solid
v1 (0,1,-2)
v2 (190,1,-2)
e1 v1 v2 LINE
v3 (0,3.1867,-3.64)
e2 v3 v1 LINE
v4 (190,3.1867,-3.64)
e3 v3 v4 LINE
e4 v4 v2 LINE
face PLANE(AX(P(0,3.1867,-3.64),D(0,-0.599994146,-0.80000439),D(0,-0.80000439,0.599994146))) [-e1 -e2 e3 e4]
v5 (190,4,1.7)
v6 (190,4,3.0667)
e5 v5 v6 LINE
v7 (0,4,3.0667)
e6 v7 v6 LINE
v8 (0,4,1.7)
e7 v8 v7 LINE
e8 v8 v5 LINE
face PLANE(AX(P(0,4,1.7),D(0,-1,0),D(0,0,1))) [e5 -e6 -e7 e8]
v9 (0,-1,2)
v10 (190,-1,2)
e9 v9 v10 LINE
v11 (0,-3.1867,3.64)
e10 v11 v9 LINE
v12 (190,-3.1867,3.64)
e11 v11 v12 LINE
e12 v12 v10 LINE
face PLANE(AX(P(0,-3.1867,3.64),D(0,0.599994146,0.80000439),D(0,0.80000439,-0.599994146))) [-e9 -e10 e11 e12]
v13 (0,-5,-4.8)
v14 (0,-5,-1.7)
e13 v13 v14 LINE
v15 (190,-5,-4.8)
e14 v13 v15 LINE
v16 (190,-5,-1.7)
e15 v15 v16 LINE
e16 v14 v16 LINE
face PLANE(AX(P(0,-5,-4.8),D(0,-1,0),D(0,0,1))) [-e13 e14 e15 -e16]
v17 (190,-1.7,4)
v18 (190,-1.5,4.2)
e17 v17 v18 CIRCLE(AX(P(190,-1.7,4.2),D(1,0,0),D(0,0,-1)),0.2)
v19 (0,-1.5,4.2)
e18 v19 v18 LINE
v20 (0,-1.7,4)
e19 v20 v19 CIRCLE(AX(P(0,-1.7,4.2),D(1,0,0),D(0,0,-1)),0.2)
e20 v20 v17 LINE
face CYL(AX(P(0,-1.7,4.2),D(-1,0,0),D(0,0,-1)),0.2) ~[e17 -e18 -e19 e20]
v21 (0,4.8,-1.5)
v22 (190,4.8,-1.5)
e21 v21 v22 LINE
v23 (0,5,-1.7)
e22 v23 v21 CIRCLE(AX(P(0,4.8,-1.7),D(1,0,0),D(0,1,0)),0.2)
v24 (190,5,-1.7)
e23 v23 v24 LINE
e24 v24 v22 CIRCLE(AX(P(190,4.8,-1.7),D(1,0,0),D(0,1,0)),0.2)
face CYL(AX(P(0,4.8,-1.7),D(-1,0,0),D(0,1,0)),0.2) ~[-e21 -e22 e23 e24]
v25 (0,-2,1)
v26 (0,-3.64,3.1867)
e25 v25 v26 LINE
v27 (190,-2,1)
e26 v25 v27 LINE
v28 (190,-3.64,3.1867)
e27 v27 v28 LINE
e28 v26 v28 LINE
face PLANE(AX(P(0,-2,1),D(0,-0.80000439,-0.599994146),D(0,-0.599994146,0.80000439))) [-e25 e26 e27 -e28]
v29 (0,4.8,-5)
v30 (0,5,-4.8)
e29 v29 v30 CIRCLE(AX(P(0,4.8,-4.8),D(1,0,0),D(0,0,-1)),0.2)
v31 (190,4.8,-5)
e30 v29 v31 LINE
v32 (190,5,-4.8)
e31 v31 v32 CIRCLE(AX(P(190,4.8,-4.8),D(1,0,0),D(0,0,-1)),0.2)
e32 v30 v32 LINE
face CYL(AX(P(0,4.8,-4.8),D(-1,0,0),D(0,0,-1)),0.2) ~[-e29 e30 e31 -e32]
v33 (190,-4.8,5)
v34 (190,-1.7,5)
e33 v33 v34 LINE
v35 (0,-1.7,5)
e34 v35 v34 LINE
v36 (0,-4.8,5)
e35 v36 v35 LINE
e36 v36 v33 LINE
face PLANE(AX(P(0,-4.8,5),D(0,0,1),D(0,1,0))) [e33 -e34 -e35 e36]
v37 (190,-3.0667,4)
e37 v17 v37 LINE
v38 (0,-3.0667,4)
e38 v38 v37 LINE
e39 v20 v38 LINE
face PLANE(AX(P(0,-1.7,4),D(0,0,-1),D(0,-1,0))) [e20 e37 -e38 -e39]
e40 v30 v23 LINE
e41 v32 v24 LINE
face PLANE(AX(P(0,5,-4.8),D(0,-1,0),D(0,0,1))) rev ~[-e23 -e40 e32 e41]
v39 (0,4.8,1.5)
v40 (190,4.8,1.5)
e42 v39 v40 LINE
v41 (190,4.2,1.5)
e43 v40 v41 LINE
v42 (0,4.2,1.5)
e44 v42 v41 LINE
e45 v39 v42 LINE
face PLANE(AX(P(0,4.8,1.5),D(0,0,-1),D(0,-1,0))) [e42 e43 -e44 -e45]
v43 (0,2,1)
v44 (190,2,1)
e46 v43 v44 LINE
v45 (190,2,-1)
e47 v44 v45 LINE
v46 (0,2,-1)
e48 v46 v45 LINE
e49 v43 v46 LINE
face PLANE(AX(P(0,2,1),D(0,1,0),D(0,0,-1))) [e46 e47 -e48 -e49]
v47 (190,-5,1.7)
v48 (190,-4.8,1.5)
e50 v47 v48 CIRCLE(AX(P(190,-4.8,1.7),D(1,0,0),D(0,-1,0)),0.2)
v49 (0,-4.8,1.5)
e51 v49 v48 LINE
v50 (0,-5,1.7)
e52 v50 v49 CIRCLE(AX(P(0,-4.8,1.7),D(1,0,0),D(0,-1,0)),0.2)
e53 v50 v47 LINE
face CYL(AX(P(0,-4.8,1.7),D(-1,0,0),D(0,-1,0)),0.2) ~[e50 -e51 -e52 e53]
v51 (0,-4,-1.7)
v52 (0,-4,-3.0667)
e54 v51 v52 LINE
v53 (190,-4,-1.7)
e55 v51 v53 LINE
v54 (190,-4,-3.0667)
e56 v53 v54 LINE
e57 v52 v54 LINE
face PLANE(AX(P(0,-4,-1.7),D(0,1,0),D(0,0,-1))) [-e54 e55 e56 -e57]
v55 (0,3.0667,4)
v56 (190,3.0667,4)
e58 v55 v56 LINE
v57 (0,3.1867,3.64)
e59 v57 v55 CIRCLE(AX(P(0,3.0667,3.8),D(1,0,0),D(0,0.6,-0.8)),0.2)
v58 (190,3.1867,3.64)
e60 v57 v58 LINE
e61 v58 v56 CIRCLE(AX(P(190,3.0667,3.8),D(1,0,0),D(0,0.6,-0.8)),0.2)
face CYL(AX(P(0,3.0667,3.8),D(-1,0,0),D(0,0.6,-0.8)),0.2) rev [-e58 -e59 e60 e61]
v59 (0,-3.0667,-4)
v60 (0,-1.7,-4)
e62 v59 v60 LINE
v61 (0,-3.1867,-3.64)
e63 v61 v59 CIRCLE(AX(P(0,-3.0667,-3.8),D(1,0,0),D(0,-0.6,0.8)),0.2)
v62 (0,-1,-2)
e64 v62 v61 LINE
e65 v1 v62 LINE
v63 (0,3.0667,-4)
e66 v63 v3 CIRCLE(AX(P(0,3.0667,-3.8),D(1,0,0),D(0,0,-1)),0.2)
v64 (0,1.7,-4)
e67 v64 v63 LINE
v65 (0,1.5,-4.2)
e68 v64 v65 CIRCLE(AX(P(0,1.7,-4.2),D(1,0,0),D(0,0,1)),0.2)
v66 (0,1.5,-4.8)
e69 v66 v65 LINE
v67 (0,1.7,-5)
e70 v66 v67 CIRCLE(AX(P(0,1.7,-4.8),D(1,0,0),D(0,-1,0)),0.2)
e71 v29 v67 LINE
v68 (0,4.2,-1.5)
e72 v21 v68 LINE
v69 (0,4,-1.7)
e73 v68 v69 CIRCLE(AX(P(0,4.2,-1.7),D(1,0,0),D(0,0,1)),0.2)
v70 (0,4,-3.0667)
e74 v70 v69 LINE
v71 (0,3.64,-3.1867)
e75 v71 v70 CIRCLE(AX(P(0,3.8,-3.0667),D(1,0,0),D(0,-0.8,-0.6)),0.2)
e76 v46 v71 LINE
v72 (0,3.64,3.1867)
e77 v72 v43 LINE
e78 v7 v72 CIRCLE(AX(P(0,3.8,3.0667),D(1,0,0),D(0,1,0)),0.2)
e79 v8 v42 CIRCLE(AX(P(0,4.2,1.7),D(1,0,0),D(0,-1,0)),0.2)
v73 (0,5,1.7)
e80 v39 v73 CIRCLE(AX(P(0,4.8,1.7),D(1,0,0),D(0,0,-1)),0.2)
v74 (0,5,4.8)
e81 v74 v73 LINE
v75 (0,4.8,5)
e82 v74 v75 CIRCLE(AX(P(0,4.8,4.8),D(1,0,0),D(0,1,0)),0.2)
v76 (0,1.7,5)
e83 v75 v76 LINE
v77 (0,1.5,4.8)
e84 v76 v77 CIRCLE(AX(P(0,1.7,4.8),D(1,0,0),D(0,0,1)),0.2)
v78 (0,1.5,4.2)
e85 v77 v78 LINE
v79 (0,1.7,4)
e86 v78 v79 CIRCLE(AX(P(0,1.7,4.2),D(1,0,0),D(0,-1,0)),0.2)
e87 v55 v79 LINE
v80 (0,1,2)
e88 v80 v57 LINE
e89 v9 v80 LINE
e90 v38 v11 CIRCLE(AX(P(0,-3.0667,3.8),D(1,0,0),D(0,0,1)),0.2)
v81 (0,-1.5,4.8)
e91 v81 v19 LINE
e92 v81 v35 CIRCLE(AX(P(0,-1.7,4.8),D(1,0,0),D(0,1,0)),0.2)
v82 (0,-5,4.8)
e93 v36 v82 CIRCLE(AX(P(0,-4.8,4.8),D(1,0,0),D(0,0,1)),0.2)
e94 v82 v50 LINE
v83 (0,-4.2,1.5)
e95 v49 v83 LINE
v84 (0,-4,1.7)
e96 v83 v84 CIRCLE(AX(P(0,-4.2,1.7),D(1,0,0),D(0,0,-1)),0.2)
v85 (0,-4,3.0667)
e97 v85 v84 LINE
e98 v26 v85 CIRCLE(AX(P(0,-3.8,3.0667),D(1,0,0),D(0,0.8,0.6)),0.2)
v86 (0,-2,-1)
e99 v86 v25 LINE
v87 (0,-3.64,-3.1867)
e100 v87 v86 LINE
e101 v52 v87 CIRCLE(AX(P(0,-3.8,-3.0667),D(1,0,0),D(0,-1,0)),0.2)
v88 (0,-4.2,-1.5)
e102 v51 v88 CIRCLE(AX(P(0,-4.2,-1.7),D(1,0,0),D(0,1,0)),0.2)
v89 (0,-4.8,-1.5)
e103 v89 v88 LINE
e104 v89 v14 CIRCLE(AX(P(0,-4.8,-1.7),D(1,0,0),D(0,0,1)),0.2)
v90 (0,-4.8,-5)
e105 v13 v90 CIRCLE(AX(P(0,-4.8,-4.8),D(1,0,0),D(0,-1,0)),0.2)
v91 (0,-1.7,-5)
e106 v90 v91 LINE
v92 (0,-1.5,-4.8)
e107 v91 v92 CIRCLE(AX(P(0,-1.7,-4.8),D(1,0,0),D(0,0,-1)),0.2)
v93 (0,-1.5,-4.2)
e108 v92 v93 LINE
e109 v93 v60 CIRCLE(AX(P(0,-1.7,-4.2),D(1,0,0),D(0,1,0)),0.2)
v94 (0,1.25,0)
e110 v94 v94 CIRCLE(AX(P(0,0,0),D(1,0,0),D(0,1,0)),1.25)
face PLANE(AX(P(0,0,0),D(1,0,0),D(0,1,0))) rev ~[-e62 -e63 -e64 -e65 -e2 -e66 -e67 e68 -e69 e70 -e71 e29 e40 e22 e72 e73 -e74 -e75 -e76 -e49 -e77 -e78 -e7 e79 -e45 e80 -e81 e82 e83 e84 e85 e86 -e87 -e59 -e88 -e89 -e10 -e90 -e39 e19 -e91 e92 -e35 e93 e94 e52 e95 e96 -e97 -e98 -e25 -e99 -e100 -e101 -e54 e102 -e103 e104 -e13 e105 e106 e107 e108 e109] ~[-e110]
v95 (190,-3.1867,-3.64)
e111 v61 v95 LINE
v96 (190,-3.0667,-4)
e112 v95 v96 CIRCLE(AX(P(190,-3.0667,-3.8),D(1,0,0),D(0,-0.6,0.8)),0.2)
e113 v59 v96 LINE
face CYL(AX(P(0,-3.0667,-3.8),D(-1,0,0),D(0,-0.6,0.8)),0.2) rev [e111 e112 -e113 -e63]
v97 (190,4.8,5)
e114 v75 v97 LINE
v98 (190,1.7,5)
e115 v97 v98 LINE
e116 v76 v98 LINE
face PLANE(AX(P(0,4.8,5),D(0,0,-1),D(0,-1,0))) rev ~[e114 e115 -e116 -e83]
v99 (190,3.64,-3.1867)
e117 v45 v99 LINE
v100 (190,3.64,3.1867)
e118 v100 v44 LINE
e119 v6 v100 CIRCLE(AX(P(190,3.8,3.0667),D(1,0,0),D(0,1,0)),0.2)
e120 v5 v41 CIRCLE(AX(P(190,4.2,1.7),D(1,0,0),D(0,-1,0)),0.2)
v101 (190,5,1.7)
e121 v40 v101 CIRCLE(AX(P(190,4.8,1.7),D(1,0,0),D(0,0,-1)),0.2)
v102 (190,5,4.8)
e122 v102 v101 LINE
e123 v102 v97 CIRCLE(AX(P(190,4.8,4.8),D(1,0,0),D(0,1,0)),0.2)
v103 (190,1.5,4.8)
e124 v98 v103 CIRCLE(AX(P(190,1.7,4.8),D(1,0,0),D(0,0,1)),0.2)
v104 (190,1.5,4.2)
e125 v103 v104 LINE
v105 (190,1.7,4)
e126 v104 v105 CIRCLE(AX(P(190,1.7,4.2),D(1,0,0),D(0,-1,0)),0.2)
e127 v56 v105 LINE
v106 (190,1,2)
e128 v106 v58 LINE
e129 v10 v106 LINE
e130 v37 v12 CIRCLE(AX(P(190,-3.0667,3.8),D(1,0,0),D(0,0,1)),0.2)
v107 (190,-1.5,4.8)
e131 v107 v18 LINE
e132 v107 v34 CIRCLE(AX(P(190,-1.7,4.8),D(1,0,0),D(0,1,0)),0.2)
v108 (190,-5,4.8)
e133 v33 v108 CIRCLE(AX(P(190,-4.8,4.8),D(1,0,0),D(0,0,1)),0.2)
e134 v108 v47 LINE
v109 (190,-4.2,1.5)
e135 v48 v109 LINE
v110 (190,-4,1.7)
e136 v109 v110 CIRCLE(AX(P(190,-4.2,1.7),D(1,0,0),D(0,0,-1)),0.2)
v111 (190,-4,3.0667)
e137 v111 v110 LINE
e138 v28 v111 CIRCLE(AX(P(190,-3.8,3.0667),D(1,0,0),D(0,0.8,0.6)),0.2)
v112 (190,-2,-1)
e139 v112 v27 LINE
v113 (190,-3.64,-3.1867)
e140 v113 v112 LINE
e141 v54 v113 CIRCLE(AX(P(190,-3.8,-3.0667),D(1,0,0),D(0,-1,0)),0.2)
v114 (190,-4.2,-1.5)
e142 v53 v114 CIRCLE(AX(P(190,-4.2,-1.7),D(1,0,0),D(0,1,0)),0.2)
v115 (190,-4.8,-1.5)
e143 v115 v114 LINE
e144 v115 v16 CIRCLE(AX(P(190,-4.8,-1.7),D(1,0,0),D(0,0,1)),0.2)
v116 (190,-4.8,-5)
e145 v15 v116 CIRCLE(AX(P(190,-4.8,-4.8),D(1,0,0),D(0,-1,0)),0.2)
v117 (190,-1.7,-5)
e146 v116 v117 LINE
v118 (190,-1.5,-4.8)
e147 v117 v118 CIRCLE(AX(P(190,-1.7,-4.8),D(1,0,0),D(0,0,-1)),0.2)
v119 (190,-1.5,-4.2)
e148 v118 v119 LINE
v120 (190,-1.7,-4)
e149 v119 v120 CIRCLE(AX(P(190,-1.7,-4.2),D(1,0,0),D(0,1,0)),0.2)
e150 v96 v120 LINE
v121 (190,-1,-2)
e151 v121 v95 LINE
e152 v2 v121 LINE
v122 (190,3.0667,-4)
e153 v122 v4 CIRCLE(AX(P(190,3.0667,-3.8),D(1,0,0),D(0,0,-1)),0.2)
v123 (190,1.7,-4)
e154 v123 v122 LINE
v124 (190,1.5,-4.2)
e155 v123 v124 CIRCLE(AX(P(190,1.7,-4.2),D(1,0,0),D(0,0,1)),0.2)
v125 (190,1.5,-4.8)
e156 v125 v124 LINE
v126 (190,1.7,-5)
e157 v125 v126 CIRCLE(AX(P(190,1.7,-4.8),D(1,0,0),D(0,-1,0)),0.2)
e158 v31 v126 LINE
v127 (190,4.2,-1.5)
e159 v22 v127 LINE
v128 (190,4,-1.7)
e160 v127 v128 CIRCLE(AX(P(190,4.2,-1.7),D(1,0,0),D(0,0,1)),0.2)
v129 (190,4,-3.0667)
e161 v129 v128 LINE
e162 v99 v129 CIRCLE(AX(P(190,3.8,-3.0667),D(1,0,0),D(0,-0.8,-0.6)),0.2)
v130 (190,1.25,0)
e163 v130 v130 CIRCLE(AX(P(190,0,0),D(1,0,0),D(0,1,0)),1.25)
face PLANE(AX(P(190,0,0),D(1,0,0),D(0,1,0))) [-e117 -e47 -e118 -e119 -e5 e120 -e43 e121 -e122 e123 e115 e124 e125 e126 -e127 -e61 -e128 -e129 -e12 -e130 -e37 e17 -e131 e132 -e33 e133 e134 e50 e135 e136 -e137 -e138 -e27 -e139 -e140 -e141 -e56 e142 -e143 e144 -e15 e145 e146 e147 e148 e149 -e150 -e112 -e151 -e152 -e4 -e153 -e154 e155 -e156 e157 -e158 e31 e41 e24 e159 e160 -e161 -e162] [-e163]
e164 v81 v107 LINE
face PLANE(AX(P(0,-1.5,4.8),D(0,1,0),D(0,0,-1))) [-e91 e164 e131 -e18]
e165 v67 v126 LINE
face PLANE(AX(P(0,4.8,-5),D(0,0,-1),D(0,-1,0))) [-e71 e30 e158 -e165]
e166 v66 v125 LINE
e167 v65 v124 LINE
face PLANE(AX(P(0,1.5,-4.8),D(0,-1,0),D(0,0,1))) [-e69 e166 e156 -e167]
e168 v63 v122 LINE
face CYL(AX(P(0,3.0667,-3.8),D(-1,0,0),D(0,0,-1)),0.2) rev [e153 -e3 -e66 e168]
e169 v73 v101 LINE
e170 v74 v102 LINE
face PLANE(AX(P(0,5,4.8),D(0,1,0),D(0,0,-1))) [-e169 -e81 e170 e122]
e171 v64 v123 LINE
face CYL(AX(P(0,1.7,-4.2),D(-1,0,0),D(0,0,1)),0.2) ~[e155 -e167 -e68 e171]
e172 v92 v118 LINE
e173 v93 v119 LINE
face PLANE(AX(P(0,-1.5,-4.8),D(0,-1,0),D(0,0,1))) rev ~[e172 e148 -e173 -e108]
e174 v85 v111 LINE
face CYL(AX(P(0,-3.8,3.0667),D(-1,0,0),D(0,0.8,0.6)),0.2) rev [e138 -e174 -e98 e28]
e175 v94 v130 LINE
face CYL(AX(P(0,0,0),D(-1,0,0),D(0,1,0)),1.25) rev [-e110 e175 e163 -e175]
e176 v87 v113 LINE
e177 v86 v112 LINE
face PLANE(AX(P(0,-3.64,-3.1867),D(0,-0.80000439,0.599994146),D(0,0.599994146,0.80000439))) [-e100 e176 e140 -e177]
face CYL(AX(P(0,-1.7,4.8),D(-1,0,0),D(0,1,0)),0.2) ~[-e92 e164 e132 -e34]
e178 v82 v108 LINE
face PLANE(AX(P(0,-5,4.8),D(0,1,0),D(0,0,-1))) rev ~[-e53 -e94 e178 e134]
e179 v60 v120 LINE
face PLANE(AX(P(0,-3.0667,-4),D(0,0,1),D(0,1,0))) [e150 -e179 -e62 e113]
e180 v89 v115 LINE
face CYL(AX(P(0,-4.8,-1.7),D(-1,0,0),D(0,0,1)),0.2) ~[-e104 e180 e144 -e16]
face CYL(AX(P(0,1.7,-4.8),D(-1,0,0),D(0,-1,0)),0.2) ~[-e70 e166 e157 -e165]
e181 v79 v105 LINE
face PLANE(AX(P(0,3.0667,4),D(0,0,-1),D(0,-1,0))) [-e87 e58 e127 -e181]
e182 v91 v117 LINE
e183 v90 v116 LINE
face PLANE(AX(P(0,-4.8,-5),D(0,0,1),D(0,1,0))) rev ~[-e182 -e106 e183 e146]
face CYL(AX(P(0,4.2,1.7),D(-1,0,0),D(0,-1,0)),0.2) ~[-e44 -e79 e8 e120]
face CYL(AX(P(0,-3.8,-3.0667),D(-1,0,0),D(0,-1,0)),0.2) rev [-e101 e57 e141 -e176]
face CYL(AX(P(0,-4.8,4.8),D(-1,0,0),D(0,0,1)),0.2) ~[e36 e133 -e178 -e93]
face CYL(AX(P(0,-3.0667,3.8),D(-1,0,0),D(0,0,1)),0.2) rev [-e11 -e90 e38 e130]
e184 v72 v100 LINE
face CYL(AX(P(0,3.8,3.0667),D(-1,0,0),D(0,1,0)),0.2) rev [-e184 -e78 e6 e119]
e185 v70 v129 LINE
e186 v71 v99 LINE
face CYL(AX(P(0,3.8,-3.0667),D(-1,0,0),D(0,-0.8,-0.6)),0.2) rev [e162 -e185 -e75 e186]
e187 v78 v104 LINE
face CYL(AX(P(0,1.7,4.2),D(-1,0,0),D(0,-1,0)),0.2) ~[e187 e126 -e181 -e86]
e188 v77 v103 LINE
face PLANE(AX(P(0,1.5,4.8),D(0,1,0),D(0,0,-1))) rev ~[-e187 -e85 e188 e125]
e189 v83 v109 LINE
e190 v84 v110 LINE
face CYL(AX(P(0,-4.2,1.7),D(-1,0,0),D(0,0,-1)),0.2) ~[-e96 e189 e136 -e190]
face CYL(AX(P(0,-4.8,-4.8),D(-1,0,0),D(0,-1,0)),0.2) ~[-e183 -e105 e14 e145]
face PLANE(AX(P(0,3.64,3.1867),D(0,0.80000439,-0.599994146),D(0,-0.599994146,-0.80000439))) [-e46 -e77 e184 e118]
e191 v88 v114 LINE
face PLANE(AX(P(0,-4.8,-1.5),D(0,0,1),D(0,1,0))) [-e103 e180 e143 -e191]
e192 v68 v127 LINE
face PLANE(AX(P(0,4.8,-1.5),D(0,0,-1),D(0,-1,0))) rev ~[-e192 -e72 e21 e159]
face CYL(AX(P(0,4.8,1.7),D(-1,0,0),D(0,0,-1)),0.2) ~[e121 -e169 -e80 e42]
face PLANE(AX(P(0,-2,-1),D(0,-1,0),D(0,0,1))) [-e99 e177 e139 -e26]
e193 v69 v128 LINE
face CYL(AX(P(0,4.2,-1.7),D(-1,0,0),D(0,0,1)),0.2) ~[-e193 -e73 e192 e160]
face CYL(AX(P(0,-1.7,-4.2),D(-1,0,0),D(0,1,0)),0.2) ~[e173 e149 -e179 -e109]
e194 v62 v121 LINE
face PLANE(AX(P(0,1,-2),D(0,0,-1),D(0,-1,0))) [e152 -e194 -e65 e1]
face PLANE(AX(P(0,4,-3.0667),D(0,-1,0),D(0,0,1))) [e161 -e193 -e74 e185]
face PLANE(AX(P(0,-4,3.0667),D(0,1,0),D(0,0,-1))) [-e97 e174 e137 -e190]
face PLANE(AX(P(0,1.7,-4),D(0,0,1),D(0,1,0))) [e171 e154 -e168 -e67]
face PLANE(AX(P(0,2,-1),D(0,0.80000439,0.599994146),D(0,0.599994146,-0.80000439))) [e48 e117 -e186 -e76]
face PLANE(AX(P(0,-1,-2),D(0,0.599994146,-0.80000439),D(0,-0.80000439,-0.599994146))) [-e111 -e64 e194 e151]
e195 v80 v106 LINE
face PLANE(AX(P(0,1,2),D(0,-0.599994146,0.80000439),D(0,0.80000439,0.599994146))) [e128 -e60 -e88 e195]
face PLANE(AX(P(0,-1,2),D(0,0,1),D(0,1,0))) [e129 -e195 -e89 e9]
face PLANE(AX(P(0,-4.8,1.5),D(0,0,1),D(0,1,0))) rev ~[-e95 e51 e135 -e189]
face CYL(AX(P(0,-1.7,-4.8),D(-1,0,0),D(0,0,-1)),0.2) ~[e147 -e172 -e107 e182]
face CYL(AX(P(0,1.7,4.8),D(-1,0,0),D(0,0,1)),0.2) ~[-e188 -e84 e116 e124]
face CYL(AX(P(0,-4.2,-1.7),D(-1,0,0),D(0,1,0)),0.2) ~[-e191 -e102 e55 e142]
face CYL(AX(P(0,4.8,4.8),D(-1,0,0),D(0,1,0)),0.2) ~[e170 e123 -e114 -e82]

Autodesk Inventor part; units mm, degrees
ref_plane "YZ Plane" through (0, 0, 0) normal (1, 0, 0) x (0, 1, 0)
ref_plane "XZ Plane" through (0, 0, 0) normal (0, 1, 0) x (-1, 0, 0)
ref_plane "XY Plane" through (0, 0, 0) normal (0, 0, 1) x (1, 0, 0)
sketch "Esquisse1" plane through (0, 0, 0) normal (1, 0, 0) x (0, 1, 0)
  line L0 (-5, -5) -> (5, 5) construction
  line L1 (5, -5) -> (-5, 5) construction
  circle A0 centre (0, 0) radius 1.25
  line L2 (2, 1) -> (2, -1)
  line L3 (-1, 2) -> (1, 2)
  line L4 (-2, -1) -> (-2, 1)
  line L5 (1, -2) -> (-1, -2)
  line L6 (4.8, -5) -> (1.7, -5)
  line L7 (5, -4.8) -> (5, -1.7)
  line L8 (1.5, -4.8) -> (1.5, -4.2)
  line L9 (12.6837, 0) -> (-8.9006, 0) construction
  line L10 (1.5, -4) -> (4, -4) construction
  line L11 (4, -4) -> (4, -1.5) construction
  line L12 (4, -1.5) -> (5, -1.5) construction
  line L13 (5, -5) -> (2, -1) construction
  line L14 (2, -1) -> (4, -3.6667) construction
  line L15 (2, -1) -> (4, -3.6667) construction
  line L16 (4, -3.0667) -> (4, -1.7)
  line L17 (4.8, -1.5) -> (4.2, -1.5)
  line L18 (1, -2) -> (5, -5) construction
  line L19 (1.7, -4) -> (3.0667, -4)
  line L20 (3.1867, -3.64) -> (1, -2)
  line L21 (2, -1) -> (3.64, -3.1867)
  arc A1 (5, -1.7) -> (4.8, -1.5) centre (4.8, -1.7) ccw
  arc A2 (4.2, -1.5) -> (4, -1.7) centre (4.2, -1.7) ccw
  arc A3 (4.8, -5) -> (5, -4.8) centre (4.8, -4.8) ccw
  arc A4 (1.5, -4.8) -> (1.7, -5) centre (1.7, -4.8) ccw
  arc A5 (1.7, -4) -> (1.5, -4.2) centre (1.7, -4.2) ccw
  arc A6 (3.0667, -4) -> (3.1867, -3.64) centre (3.0667, -3.8) ccw
  arc A7 (3.64, -3.1867) -> (4, -3.0667) centre (3.8, -3.0667) ccw
  arc A8 (3.1867, 3.64) -> (3.0667, 4) centre (3.0667, 3.8) ccw
  line L22 (1.5, 4.8) -> (1.5, 4.2)
  line L23 (1.5, 4) -> (1.5, 5) construction
  arc A9 (4, 3.0667) -> (3.64, 3.1867) centre (3.8, 3.0667) ccw
  line L24 (3.0667, 4) -> (1.7, 4)
  arc A10 (1.5, 4.2) -> (1.7, 4) centre (1.7, 4.2) ccw
  line L25 (4, 1.7) -> (4, 3.0667)
  line L26 (4, 4) -> (1.5, 4) construction
  line L27 (1, 2) -> (3.1867, 3.64)
  line L28 (4.8, 1.5) -> (4.2, 1.5)
  line L29 (1, 2) -> (3.6667, 4) construction
  line L30 (1, 2) -> (3.6667, 4) construction
  line L31 (4.8, 5) -> (1.7, 5)
  line L32 (3.64, 3.1867) -> (2, 1)
  line L33 (5, 4.8) -> (5, 1.7)
  line L34 (5, 5) -> (1, 2) construction
  line L35 (2, 1) -> (5, 5) construction
  line L36 (4, 1.5) -> (4, 4) construction
  circle A11 centre (0, 0) radius 1.25
  line L37 (-1, 2) -> (1, 2)
  line L38 (-2, -1) -> (-2, 1)
  line L39 (1, -2) -> (-1, -2)
  line L40 (2, 1) -> (2, -1)
  arc A12 (1.7, 5) -> (1.5, 4.8) centre (1.7, 4.8) ccw
  arc A13 (5, 4.8) -> (4.8, 5) centre (4.8, 4.8) ccw
  arc A14 (4, 1.7) -> (4.2, 1.5) centre (4.2, 1.7) ccw
  arc A15 (4.8, 1.5) -> (5, 1.7) centre (4.8, 1.7) ccw
  arc A16 (-3.64, 3.1867) -> (-4, 3.0667) centre (-3.8, 3.0667) ccw
  line L41 (-4.8, 1.5) -> (-4.2, 1.5)
  line L42 (-4, 1.5) -> (-5, 1.5) construction
  arc A17 (-3.0667, 4) -> (-3.1867, 3.64) centre (-3.0667, 3.8) ccw
  line L43 (-4, 3.0667) -> (-4, 1.7)
  arc A18 (-4.2, 1.5) -> (-4, 1.7) centre (-4.2, 1.7) ccw
  line L44 (-1.7, 4) -> (-3.0667, 4)
  line L45 (-4, 4) -> (-4, 1.5) construction
  line L46 (-2, 1) -> (-3.64, 3.1867)
  line L47 (-1.5, 4.8) -> (-1.5, 4.2)
  line L48 (-2, 1) -> (-4, 3.6667) construction
  line L49 (-2, 1) -> (-4, 3.6667) construction
  line L50 (-5, 4.8) -> (-5, 1.7)
  line L51 (-3.1867, 3.64) -> (-1, 2)
  line L52 (-4.8, 5) -> (-1.7, 5)
  line L53 (-5, 5) -> (-2, 1) construction
  line L54 (-1, 2) -> (-5, 5) construction
  line L55 (-1.5, 4) -> (-4, 4) construction
  circle A19 centre (0, 0) radius 1.25
  line L56 (-2, -1) -> (-2, 1)
  line L57 (1, -2) -> (-1, -2)
  line L58 (2, 1) -> (2, -1)
  line L59 (-1, 2) -> (1, 2)
  arc A20 (-5, 1.7) -> (-4.8, 1.5) centre (-4.8, 1.7) ccw
  arc A21 (-4.8, 5) -> (-5, 4.8) centre (-4.8, 4.8) ccw
  arc A22 (-1.7, 4) -> (-1.5, 4.2) centre (-1.7, 4.2) ccw
  arc A23 (-1.5, 4.8) -> (-1.7, 5) centre (-1.7, 4.8) ccw
  arc A24 (-3.1867, -3.64) -> (-3.0667, -4) centre (-3.0667, -3.8) ccw
  line L60 (-1.5, -4.8) -> (-1.5, -4.2)
  line L61 (-1.5, -4) -> (-1.5, -5) construction
  arc A25 (-4, -3.0667) -> (-3.64, -3.1867) centre (-3.8, -3.0667) ccw
  line L62 (-3.0667, -4) -> (-1.7, -4)
  arc A26 (-1.5, -4.2) -> (-1.7, -4) centre (-1.7, -4.2) ccw
  line L63 (-4, -1.7) -> (-4, -3.0667)
  line L64 (-4, -4) -> (-1.5, -4) construction
  line L65 (-1, -2) -> (-3.1867, -3.64)
  line L66 (-4.8, -1.5) -> (-4.2, -1.5)
  line L67 (-1, -2) -> (-3.6667, -4) construction
  line L68 (-1, -2) -> (-3.6667, -4) construction
  line L69 (-4.8, -5) -> (-1.7, -5)
  line L70 (-3.64, -3.1867) -> (-2, -1)
  line L71 (-5, -4.8) -> (-5, -1.7)
  line L72 (-5, -5) -> (-1, -2) construction
  line L73 (-2, -1) -> (-5, -5) construction
  line L74 (-4, -1.5) -> (-4, -4) construction
  circle A27 centre (0, 0) radius 1.25
  line L75 (1, -2) -> (-1, -2)
  line L76 (2, 1) -> (2, -1)
  line L77 (-1, 2) -> (1, 2)
  line L78 (-2, -1) -> (-2, 1)
  arc A28 (-1.7, -5) -> (-1.5, -4.8) centre (-1.7, -4.8) ccw
  arc A29 (-5, -4.8) -> (-4.8, -5) centre (-4.8, -4.8) ccw
  arc A30 (-4, -1.7) -> (-4.2, -1.5) centre (-4.2, -1.7) ccw
  arc A31 (-4.8, -1.5) -> (-5, -1.7) centre (-4.8, -1.7) ccw
  point P0 (2, 0)
  point P1 (0, 2)
  point P2 (-2, 0)
  point P3 (0, -2)
  point P4 (1.5, -5)
  point P5 (3.6667, -4)
  point P6 (4, 3.6667)
  point P7 (5, 1.5)
  point P8 (0, 2)
  point P9 (-2, 0)
  point P10 (0, -2)
  point P11 (2, 0)
  point P12 (-3.6667, 4)
  point P13 (-1.5, 5)
  point P14 (-2, 0)
  point P15 (0, -2)
  point P16 (2, 0)
  point P17 (0, 2)
  point P18 (-4, -3.6667)
  point P19 (-5, -1.5)
  point P20 (0, -2)
  point P21 (2, 0)
  point P22 (0, 2)
  point P23 (-2, 0)
  dimension "d0" = 10
  dimension "d1" = 10
  dimension "d19" = 2.5
  dimension "d30" = 2
  dimension "d36" = 360
  dimension "d39" = 3.5
  dimension "d40" = 3.5
  dimension "d41" = 1
  dimension "d50" = 0.2
  dimension "d60" = 0.2
  dimension "d61" = 0.2
  dimension "d62" = 0.2
  dimension "d63" = 0.2
  dimension "d64" = 0.2
  dimension "d73" = 0.2
  dimension "d80" = 360
extrude "Extrusion1" add sketch "Esquisse1" along normal blind 190
properties part number "profile190"
